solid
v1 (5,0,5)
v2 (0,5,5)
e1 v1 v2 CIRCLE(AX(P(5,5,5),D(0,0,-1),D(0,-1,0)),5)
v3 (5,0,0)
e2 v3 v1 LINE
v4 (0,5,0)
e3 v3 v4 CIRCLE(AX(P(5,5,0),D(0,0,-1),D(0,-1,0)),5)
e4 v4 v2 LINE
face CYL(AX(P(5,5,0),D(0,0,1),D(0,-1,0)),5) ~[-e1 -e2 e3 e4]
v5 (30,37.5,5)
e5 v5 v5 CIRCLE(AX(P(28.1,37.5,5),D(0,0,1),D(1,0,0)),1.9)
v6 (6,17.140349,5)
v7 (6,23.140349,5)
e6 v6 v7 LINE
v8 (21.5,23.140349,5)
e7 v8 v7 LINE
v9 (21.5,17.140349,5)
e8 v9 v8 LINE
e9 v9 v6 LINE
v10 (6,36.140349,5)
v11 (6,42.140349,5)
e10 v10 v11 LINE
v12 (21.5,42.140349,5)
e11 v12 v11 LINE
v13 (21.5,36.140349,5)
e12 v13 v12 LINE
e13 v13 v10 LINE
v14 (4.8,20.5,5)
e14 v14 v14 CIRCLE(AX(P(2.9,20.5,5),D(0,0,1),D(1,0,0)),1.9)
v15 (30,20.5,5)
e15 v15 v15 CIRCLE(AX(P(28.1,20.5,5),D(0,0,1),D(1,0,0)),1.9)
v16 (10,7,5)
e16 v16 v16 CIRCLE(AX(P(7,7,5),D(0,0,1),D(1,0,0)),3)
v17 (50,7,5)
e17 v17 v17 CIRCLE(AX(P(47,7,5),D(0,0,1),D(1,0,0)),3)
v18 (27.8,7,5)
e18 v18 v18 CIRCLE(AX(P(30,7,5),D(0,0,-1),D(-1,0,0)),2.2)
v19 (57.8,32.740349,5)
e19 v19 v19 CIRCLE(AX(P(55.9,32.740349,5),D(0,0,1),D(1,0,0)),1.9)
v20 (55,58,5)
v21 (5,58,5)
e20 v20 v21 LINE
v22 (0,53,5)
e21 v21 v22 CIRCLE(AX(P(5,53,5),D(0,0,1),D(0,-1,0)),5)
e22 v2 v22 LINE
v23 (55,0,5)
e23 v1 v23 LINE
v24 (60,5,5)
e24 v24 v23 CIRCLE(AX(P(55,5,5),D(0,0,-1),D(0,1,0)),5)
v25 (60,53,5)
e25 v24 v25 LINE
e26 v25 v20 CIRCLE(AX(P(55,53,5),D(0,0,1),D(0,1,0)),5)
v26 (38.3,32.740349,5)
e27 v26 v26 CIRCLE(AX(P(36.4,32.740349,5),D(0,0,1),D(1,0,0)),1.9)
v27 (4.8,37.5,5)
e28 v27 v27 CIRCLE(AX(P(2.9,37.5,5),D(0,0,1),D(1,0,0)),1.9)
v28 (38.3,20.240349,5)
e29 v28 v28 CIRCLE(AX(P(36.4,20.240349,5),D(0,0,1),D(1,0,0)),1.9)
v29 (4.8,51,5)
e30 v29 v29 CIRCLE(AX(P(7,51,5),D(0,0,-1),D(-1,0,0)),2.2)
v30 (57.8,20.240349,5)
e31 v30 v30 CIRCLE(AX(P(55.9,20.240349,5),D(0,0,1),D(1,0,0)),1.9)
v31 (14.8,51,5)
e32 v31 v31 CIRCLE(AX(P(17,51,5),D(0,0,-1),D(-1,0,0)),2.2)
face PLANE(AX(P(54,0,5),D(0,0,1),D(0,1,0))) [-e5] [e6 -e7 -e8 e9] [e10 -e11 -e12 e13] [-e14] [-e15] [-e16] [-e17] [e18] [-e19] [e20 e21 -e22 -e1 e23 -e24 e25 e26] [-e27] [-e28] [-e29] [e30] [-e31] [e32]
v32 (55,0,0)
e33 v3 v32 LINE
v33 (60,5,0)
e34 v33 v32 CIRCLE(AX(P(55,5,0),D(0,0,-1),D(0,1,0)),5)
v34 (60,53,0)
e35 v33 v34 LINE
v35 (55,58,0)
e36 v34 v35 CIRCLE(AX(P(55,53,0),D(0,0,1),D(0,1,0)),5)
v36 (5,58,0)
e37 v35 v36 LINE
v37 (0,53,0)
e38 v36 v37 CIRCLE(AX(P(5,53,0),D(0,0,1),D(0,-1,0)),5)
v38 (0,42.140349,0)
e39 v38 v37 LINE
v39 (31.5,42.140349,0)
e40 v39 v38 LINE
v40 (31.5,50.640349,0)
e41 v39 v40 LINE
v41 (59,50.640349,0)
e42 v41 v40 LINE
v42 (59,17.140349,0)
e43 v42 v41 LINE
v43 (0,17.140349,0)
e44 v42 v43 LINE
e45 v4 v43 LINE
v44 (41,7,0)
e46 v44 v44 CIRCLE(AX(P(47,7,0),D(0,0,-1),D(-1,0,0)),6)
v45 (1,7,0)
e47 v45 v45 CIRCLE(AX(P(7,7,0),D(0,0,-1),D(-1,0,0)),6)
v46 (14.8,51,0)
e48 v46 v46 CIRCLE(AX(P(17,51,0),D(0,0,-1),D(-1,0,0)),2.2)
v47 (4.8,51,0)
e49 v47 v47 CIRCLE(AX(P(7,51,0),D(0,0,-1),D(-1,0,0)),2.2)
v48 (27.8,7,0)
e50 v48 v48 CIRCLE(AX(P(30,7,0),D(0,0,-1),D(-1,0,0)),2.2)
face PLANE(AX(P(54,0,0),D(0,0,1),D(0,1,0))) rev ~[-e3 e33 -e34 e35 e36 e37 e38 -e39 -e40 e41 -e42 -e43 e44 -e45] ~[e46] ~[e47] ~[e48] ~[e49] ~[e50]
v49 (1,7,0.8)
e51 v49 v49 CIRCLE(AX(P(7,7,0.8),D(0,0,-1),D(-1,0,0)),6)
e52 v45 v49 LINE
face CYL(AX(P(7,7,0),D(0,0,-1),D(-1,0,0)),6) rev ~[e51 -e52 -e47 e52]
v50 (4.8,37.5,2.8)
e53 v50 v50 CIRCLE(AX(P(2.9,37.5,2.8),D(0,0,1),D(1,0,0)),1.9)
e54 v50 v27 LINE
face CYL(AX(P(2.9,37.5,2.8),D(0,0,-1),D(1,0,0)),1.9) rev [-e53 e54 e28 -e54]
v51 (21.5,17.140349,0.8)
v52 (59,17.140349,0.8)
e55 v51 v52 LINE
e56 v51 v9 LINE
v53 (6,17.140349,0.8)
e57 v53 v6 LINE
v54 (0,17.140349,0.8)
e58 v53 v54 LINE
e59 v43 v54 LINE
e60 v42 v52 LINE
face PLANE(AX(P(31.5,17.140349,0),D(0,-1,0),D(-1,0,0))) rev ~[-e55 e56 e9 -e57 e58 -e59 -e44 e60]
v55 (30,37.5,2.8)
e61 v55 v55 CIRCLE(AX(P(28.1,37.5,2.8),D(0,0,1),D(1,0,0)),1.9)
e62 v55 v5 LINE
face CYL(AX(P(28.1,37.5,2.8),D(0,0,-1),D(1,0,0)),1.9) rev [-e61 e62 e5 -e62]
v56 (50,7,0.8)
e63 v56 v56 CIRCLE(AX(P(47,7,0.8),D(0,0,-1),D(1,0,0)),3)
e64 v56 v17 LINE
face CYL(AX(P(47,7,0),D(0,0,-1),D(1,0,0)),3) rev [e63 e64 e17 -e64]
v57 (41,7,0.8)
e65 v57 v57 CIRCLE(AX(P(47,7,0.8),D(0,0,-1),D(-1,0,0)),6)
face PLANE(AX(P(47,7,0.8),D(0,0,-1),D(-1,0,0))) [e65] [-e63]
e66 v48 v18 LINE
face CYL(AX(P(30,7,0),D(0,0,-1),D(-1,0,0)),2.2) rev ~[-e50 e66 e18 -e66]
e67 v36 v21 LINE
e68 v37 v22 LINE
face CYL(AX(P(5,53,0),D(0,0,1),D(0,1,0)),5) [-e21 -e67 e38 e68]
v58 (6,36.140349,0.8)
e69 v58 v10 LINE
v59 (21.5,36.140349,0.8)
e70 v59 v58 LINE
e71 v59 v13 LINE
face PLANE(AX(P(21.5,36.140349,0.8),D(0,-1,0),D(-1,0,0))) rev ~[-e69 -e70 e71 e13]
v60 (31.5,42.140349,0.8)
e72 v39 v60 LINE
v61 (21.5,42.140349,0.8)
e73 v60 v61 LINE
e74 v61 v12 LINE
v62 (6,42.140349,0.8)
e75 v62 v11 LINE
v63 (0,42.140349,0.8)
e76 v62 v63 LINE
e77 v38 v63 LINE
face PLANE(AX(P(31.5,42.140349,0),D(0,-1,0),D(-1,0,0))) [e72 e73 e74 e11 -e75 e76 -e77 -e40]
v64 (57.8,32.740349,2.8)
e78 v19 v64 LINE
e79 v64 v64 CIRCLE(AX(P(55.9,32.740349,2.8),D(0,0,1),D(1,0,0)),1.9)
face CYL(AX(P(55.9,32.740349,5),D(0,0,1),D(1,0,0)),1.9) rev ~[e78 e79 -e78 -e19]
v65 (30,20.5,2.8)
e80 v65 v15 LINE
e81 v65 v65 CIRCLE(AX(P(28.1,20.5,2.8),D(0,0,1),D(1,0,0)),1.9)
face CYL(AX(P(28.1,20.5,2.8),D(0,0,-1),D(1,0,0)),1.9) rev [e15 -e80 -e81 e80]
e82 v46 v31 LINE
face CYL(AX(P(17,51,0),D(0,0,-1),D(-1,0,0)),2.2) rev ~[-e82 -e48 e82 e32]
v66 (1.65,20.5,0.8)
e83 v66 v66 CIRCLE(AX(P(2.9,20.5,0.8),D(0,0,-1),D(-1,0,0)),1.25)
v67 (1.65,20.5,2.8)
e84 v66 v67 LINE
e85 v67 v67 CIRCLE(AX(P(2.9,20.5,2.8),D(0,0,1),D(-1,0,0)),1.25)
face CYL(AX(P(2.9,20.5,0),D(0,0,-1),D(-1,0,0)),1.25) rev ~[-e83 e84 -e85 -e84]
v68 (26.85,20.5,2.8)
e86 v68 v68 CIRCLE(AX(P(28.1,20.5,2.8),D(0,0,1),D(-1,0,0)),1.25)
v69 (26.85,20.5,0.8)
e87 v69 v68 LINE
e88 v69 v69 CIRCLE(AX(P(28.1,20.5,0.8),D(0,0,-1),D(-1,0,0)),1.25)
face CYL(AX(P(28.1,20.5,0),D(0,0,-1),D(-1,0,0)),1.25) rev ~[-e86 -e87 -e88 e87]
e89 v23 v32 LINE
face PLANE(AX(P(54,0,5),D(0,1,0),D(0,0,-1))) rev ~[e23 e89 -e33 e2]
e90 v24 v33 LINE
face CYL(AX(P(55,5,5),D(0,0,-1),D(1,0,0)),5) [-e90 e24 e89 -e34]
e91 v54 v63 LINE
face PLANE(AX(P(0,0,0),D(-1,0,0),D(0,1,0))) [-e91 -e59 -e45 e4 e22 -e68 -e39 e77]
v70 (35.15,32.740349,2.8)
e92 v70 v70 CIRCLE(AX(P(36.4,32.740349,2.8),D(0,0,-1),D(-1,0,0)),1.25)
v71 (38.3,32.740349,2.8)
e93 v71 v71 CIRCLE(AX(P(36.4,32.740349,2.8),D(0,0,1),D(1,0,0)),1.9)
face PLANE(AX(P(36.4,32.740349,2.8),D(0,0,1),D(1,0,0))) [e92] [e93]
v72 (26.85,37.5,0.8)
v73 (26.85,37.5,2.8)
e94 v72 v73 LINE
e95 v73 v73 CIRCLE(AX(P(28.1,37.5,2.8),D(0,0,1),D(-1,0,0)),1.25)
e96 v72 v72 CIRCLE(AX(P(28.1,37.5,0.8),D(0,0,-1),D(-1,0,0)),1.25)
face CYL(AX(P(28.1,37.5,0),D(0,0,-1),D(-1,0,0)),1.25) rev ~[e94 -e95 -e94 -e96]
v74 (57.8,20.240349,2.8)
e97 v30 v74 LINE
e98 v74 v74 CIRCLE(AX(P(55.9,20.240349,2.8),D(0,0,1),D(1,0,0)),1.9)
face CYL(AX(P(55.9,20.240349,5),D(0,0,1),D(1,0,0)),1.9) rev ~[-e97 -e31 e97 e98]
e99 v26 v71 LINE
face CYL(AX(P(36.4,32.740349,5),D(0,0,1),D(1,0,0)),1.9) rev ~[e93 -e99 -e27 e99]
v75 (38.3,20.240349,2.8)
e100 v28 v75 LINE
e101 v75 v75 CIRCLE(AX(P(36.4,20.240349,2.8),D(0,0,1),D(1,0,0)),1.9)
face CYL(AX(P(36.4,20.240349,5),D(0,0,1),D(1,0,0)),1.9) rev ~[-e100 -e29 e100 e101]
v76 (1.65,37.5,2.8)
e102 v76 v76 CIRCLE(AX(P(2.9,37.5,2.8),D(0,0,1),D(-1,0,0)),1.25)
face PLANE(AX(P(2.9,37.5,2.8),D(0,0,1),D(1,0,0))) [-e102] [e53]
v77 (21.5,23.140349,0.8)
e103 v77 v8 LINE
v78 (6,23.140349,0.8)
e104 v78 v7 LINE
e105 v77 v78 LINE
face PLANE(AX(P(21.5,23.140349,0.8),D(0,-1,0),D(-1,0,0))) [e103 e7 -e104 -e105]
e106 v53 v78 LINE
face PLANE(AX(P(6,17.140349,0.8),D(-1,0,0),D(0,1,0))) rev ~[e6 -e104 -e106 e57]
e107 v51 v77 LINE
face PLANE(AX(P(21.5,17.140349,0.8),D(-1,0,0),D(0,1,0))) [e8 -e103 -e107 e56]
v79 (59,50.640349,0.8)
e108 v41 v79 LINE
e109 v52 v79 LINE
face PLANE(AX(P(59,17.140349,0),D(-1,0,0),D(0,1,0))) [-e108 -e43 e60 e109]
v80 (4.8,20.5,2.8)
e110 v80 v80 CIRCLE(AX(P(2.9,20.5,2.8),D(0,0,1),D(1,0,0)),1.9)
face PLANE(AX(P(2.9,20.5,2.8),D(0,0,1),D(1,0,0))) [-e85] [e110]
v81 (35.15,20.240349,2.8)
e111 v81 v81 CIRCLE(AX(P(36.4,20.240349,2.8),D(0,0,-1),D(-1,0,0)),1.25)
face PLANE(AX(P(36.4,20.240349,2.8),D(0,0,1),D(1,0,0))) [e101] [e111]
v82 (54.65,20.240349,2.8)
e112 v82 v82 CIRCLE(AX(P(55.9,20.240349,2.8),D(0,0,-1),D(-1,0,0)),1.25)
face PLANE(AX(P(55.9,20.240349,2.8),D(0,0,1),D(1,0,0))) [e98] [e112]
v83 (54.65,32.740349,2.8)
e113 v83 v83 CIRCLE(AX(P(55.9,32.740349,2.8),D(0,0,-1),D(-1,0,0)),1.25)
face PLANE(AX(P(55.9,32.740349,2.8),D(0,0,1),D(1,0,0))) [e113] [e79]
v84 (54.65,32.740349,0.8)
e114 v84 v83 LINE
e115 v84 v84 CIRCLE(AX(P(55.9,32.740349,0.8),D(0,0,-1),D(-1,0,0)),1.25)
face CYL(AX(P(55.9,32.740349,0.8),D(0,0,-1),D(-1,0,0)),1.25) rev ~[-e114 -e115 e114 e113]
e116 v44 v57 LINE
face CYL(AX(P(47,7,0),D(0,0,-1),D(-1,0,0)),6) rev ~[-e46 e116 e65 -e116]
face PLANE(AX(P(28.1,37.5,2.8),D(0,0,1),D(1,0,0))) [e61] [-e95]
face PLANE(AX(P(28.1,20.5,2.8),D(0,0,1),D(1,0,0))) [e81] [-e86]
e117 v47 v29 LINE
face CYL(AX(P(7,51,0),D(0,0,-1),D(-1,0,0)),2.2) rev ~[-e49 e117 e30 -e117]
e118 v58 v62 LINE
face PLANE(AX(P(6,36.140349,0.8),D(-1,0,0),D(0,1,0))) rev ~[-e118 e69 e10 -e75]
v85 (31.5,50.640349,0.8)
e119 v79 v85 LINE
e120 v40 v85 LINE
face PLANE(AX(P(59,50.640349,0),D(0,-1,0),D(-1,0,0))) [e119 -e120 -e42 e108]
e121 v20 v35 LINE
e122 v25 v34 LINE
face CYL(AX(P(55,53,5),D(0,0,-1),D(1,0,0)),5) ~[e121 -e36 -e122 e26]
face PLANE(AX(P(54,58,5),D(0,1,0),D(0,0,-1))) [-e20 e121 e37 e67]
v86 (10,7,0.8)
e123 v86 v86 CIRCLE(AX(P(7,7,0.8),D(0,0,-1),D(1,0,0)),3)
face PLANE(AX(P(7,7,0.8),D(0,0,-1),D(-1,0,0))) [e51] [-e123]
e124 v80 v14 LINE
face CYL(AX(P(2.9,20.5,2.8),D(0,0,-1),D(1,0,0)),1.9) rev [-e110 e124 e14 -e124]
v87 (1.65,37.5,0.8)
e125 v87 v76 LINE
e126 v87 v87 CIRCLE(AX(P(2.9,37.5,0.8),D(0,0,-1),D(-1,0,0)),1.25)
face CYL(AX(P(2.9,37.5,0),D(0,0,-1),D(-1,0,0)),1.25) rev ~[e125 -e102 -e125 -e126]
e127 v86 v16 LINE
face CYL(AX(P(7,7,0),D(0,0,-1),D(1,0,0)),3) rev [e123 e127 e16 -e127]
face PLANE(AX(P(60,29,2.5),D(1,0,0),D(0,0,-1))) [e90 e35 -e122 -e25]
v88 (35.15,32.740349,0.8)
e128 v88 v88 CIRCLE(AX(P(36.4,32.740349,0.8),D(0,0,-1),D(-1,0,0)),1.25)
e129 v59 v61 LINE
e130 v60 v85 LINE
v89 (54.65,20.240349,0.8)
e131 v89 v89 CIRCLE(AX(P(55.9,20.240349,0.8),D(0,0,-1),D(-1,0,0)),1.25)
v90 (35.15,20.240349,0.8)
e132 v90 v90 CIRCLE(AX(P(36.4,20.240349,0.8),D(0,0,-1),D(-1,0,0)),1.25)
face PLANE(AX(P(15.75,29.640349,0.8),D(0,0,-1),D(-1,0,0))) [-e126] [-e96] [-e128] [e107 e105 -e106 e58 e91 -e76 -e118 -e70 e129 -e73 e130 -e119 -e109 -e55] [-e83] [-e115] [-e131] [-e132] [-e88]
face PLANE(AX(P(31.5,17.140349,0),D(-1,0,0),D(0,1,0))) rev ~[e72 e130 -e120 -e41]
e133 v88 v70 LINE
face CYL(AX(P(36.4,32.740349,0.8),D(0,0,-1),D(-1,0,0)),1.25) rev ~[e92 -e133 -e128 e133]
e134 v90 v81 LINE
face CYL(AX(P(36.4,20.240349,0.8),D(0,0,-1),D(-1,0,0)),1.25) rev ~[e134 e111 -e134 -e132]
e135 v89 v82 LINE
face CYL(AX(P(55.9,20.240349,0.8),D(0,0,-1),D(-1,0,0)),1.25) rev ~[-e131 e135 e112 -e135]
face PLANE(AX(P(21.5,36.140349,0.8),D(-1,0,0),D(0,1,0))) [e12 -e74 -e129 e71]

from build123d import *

# Parameters (mm, degrees)
SKETCH_1_W           = 54
SKETCH_1_H           = 58
SKETCH_1_R           = 3
EXTRUDE_1_DEPTH      = 5
SKETCH_3_R           = 6
CUT_EXTRUDE_1_DEPTH  = 0.8
CUT_EXTRUDE_2_REACH  = 81.404
SKETCH_4_R           = 1.25
SKETCH_5_W           = 31.5
SKETCH_5_H           = 25
CUT_EXTRUDE_3_DEPTH  = 0.8
CUT_EXTRUDE_4_REACH  = 81.358
SKETCH_6_W           = 15.5
SKETCH_6_H           = 6
CUT_EXTRUDE_START    = -2.2
SKETCH_7_R           = 1.9
SKETCH_7_R_2         = 1.25
CUT_EXTRUDE_5_DEPTH  = 2.2
SKETCH_8_W           = 5
SKETCH_8_H           = 58
EXTRUDE_2_DEPTH      = 6
SKETCH_9_W           = 27.5
SKETCH_9_H           = 33.5
CUT_EXTRUDE_6_DEPTH  = 0.8
SKETCH_10_R          = 1.25
CUT_EXTRUDE_7_DEPTH  = 4.2
SKETCH_11_R          = 1.9
CUT_EXTRUDE_8_DEPTH  = 2.2
FILLET_1_R           = 5
SKETCH_12_W          = 60
SKETCH_12_H          = 3
EXTRUDE_3_DEPTH      = 20
EXTRUDE_3_2_DEPTH    = 20
SKETCH_13_W          = 60
SKETCH_13_H          = 3
EXTRUDE_4_DEPTH      = 3
SKETCH_14_R          = 2.2
CUT_EXTRUDE_9_DEPTH  = 5
EXTRUDE_START        = -5
SKETCH_15_R          = 2.2
EXTRUDE_5_DEPTH      = 5
CUT_EXTRUDE_10_REACH = 81.107
SKETCH_16_W          = 27.5
SKETCH_16_H          = 10
SKETCH_17_W          = 7
SKETCH_17_H          = 27
EXTRUDE_6_DEPTH      = 3
SKETCH_18_W          = 27.5
SKETCH_18_H          = 3
SKETCH_18_W_2        = 15.5
SKETCH_18_H_2        = 6
EXTRUDE_8_DEPTH      = 3
CUT_EXTRUDE_11_DEPTH = 3
SKETCH_20_W          = 10
SKETCH_20_H          = 4.5
SKETCH_20_W_2        = 10.2
SKETCH_20_H_2        = 4.4
CUT_EXTRUDE_12_DEPTH = 3
SKETCH_21_W          = 17
SKETCH_21_H          = 4
EXTRUDE_9_DEPTH      = 20
FILLET_2_R           = 5


with BuildPart() as part:
    # 草图1 → 凸台-拉伸1 (new body)
    with BuildSketch(Plane.XY):
        with Locations((27, 29)):
            Rectangle(SKETCH_1_W, SKETCH_1_H)
        with Locations((7, 7)):
            Circle(SKETCH_1_R, mode=Mode.SUBTRACT)
        with Locations((47, 7)):
            Circle(SKETCH_1_R, mode=Mode.SUBTRACT)
    extrude(amount=EXTRUDE_1_DEPTH)

    # 草图3 → 切除-拉伸1 (cut)
    with BuildSketch(Plane(origin=(0, 0, 0), x_dir=(-1, 0, 0), z_dir=(0, 0, -1))):
        with Locations((-47, 7)):
            Circle(SKETCH_3_R)
        with Locations((-7, 7)):
            Circle(SKETCH_3_R)
    extrude(amount=-CUT_EXTRUDE_1_DEPTH, mode=Mode.SUBTRACT)

    # 草图4 → 切除-拉伸2 (cut, up to next)
    with BuildSketch(Plane(origin=(0, 0, 0), x_dir=(-1, 0, 0), z_dir=(0, 0, -1)), mode=Mode.PRIVATE) as cut_extrude_2_sk1:
        with Locations((-28.1, 37.5)):
            Circle(SKETCH_4_R)
    cut_extrude_2_tool1 = extrude(cut_extrude_2_sk1.sketch, amount=-CUT_EXTRUDE_2_REACH, mode=Mode.PRIVATE) & part.part
    # 草图4 → 切除-拉伸2 (cut, up to next)
    with BuildSketch(Plane(origin=(0, 0, 0), x_dir=(-1, 0, 0), z_dir=(0, 0, -1)), mode=Mode.PRIVATE) as cut_extrude_2_sk2:
        with Locations((-2.9, 37.5)):
            Circle(SKETCH_4_R)
    cut_extrude_2_tool2 = extrude(cut_extrude_2_sk2.sketch, amount=-CUT_EXTRUDE_2_REACH, mode=Mode.PRIVATE) & part.part
    # 草图4 → 切除-拉伸2 (cut, up to next)
    with BuildSketch(Plane(origin=(0, 0, 0), x_dir=(-1, 0, 0), z_dir=(0, 0, -1)), mode=Mode.PRIVATE) as cut_extrude_2_sk3:
        with Locations((-28.1, 20.5)):
            Circle(SKETCH_4_R)
    cut_extrude_2_tool3 = extrude(cut_extrude_2_sk3.sketch, amount=-CUT_EXTRUDE_2_REACH, mode=Mode.PRIVATE) & part.part
    # 草图4 → 切除-拉伸2 (cut, up to next)
    with BuildSketch(Plane(origin=(0, 0, 0), x_dir=(-1, 0, 0), z_dir=(0, 0, -1)), mode=Mode.PRIVATE) as cut_extrude_2_sk4:
        with Locations((-2.9, 20.5)):
            Circle(SKETCH_4_R)
    cut_extrude_2_tool4 = extrude(cut_extrude_2_sk4.sketch, amount=-CUT_EXTRUDE_2_REACH, mode=Mode.PRIVATE) & part.part
    add(cut_extrude_2_tool1.solids().sort_by_distance((28.1, 37.5, 0))[0], mode=Mode.SUBTRACT)
    add(cut_extrude_2_tool2.solids().sort_by_distance((2.9, 37.5, 0))[0], mode=Mode.SUBTRACT)
    add(cut_extrude_2_tool3.solids().sort_by_distance((28.1, 20.5, 0))[0], mode=Mode.SUBTRACT)
    add(cut_extrude_2_tool4.solids().sort_by_distance((2.9, 20.5, 0))[0], mode=Mode.SUBTRACT)

    # 草图5 → 切除-拉伸3 (cut)
    with BuildSketch(Plane(origin=(0, 0, 0), x_dir=(-1, 0, 0), z_dir=(0, 0, -1))):
        with Locations((-15.75, 29.640349145)):
            Rectangle(SKETCH_5_W, SKETCH_5_H)
    extrude(amount=-CUT_EXTRUDE_3_DEPTH, mode=Mode.SUBTRACT)

    # 草图6 → 切除-拉伸4 (cut, up to next)
    with BuildSketch(Plane(origin=(0, 0, 0.8), x_dir=(-1, 0, 0), z_dir=(0, 0, -1)), mode=Mode.PRIVATE) as cut_extrude_4_sk1:
        with Locations((-13.75, 39.140349145)):
            Rectangle(SKETCH_6_W, SKETCH_6_H)
    cut_extrude_4_tool1 = extrude(cut_extrude_4_sk1.sketch, amount=-CUT_EXTRUDE_4_REACH, mode=Mode.PRIVATE) & part.part
    # 草图6 → 切除-拉伸4 (cut, up to next)
    with BuildSketch(Plane(origin=(0, 0, 0.8), x_dir=(-1, 0, 0), z_dir=(0, 0, -1)), mode=Mode.PRIVATE) as cut_extrude_4_sk2:
        with Locations((-13.75, 20.140349145)):
            Rectangle(SKETCH_6_W, SKETCH_6_H)
    cut_extrude_4_tool2 = extrude(cut_extrude_4_sk2.sketch, amount=-CUT_EXTRUDE_4_REACH, mode=Mode.PRIVATE) & part.part
    add(cut_extrude_4_tool1.solids().sort_by_distance((13.75, 39.140349, 0.8))[0], mode=Mode.SUBTRACT)
    add(cut_extrude_4_tool2.solids().sort_by_distance((13.75, 20.140349, 0.8))[0], mode=Mode.SUBTRACT)

    # 草图7 → 切除-拉伸5 (cut)
    # profile 1 of 4: a face of its own
    with BuildSketch(Plane.XY.offset(5).offset(CUT_EXTRUDE_START)):
        with Locations((2.9, 37.5)):
            Circle(SKETCH_7_R)
        with Locations(Location((2.9, 37.5, 0), (0, 0, 180))):
            Circle(SKETCH_7_R_2, mode=Mode.SUBTRACT)
    # profile 2 of 4: a face of its own
    with BuildSketch(Plane.XY.offset(5).offset(CUT_EXTRUDE_START)):
        with Locations((28.1, 37.5)):
            Circle(SKETCH_7_R)
        with Locations(Location((28.1, 37.5, 0), (0, 0, 180))):
            Circle(SKETCH_7_R_2, mode=Mode.SUBTRACT)
    # profile 3 of 4: a face of its own
    with BuildSketch(Plane.XY.offset(5).offset(CUT_EXTRUDE_START)):
        with Locations((28.1, 20.5)):
            Circle(SKETCH_7_R)
        with Locations(Location((28.1, 20.5, 0), (0, 0, 180))):
            Circle(SKETCH_7_R_2, mode=Mode.SUBTRACT)
    # profile 4 of 4: a face of its own
    with BuildSketch(Plane.XY.offset(5).offset(CUT_EXTRUDE_START)):
        with Locations((2.9, 20.5)):
            Circle(SKETCH_7_R)
        with Locations(Location((2.9, 20.5, 0), (0, 0, 180))):
            Circle(SKETCH_7_R_2, mode=Mode.SUBTRACT)
    extrude(amount=CUT_EXTRUDE_5_DEPTH, mode=Mode.SUBTRACT)

    # 草图8 → 凸台-拉伸2 (add)
    with BuildSketch(Plane(origin=(54, 0, 0), x_dir=(0, 0, -1), z_dir=(1, 0, 0))):
        with Locations((-2.5, 29)):
            Rectangle(SKETCH_8_W, SKETCH_8_H)
    extrude(amount=EXTRUDE_2_DEPTH)

    # 草图9 → 切除-拉伸6 (cut)
    with BuildSketch(Plane(origin=(0, 0, 0), x_dir=(-1, 0, 0), z_dir=(0, 0, -1))):
        with Locations((-45.25, 33.890349145)):
            Rectangle(SKETCH_9_W, SKETCH_9_H)
    extrude(amount=-CUT_EXTRUDE_6_DEPTH, mode=Mode.SUBTRACT)

    # 草图10 → 切除-拉伸7 (cut)
    with BuildSketch(Plane(origin=(0, 0, 0.8), x_dir=(-1, 0, 0), z_dir=(0, 0, -1))):
        with Locations((-55.9, 32.740349145)):
            Circle(SKETCH_10_R)
        with Locations((-55.9, 20.240349145)):
            Circle(SKETCH_10_R)
        with Locations((-36.4, 20.240349145)):
            Circle(SKETCH_10_R)
        with Locations((-36.4, 32.740349145)):
            Circle(SKETCH_10_R)
    extrude(amount=-CUT_EXTRUDE_7_DEPTH, mode=Mode.SUBTRACT)

    # 草图11 → 切除-拉伸8 (cut)
    with BuildSketch(Plane.XY.offset(5)):
        with Locations((36.4, 20.240349145)):
            Circle(SKETCH_11_R)
        with Locations((55.9, 20.240349145)):
            Circle(SKETCH_11_R)
        with Locations((55.9, 32.740349145)):
            Circle(SKETCH_11_R)
        with Locations((36.4, 32.740349145)):
            Circle(SKETCH_11_R)
    extrude(amount=-CUT_EXTRUDE_8_DEPTH, mode=Mode.SUBTRACT)

    # 圆角1
    fillet_1_edges = [part.edges().sort_by_distance(p)[0] for p in [
        (60, 0, 2.5),
        (60, 58, 2.5),
        (0, 58, 2.5),
        (0, 0, 2.5),
    ]]
    fillet(fillet_1_edges, radius=FILLET_1_R)

    # 草图14 → 切除-拉伸9 (cut)
    with BuildSketch(Plane(origin=(0, 0, 0), x_dir=(-1, 0, 0), z_dir=(0, 0, -1))):
        with Locations((-30, 7)):
            Circle(SKETCH_14_R)
        with Locations((-17, 51)):
            Circle(SKETCH_14_R)
        with Locations((-7, 51)):
            Circle(SKETCH_14_R)
    extrude(amount=-CUT_EXTRUDE_9_DEPTH, mode=Mode.SUBTRACT)


with BuildPart() as body_2:
    # 草图12 → 凸台-拉伸3 (new body)
    with BuildSketch(Plane(origin=(0, 0, 0), x_dir=(-1, 0, 0), z_dir=(0, 0, -1))):
        with Locations((-30, 14.640349145)):
            Rectangle(SKETCH_12_W, SKETCH_12_H)
    extrude(amount=EXTRUDE_3_DEPTH)



with BuildPart() as body_3:
    # 草图12 → Extrude 3 2 (new body)
    with BuildSketch(Plane(origin=(0, 0, 0), x_dir=(-1, 0, 0), z_dir=(0, 0, -1))):
        with BuildLine():
            Line((-60, 53), (-60, 51.640349145))
            Line((-60, 51.640349145), (-30.5, 51.640349145))
            Line((-30.5, 51.640349145), (-30.5, 43.140349145))
            Line((-30.5, 43.140349145), (0, 43.140349145))
            Line((0, 43.140349145), (0, 46.140349145))
            Line((0, 46.140349145), (-27.5, 46.140349145))
            Line((-27.5, 46.140349145), (-27.5, 54.640349145))
            Line((-27.5, 54.640349145), (-59.723267374, 54.640349145))
            ThreePointArc((-59.723267374, 54.640349145), (-59.930331473, 53.831764129), (-60, 53))
        make_face()
    extrude(amount=EXTRUDE_3_2_DEPTH)


with BuildPart() as body_2_1:
    add(body_2.part)

    add(body_3.part)  # 凸台-拉伸4 merges body 3
    # 草图13 → 凸台-拉伸4 (add)
    with BuildSketch(Plane(origin=(0, 0, -20), x_dir=(-1, 0, 0), z_dir=(0, 0, -1))):
        Polygon((0, 43.140349145), (0, 16.140349145), (-60, 16.140349145), (-60, 51.640349145), (-30.5, 51.640349145), (-30.5, 43.140349145), align=None)
        with BuildLine():
            Line((0, 43.140349145), (0, 46.140349145))
            Line((0, 46.140349145), (-27.5, 46.140349145))
            Line((-27.5, 46.140349145), (-27.5, 54.640349145))
            Line((-27.5, 54.640349145), (-59.723267374, 54.640349145))
            ThreePointArc((-59.723267374, 54.640349145), (-59.930331473, 53.831764129), (-60, 53))
            Line((-60, 53), (-60, 51.640349145))
            Line((-60, 51.640349145), (-30.5, 51.640349145))
            Line((-30.5, 51.640349145), (-30.5, 43.140349145))
            Line((-30.5, 43.140349145), (0, 43.140349145))
        make_face()
        with Locations((-30, 14.640349145)):
            Rectangle(SKETCH_13_W, SKETCH_13_H)
    extrude(amount=EXTRUDE_4_DEPTH)

    # 草图15 → 凸台-拉伸5 (add)
    # profile 1 of 3: a face of its own
    with BuildSketch(Plane.XY.offset(EXTRUDE_START)):
        with BuildLine():
            ThreePointArc((34.5, 7), (30, 11.5), (25.5, 7))
            ThreePointArc((25.5, 7), (26.818019485, 3.818019485), (30, 2.5))
            ThreePointArc((30, 2.5), (33.181980515, 3.818019485), (34.5, 7))
        make_face()
        with Locations(Location((30, 7, 0), (0, 0, 180))):
            Circle(SKETCH_15_R, mode=Mode.SUBTRACT)
    # profile 2 of 3: a face of its own
    with BuildSketch(Plane.XY.offset(EXTRUDE_START)):
        with BuildLine():
            Line((25.5, 13.140349145), (25.5, 7))
            ThreePointArc((25.5, 7), (30, 11.5), (34.5, 7))
            Line((34.5, 7), (34.5, 13.140349145))
            Line((34.5, 13.140349145), (25.5, 13.140349145))
        make_face()
    # profile 3 of 3: a face of its own
    with BuildSketch(Plane.XY.offset(EXTRUDE_START)):
        with BuildLine():
            Line((17, 55.140349145), (7, 55.140349145))
            ThreePointArc((7, 55.140349145), (3.818019485, 53.82232966), (2.5, 50.640349145))
            Line((2.5, 50.640349145), (2.5, 46.140349145))
            Line((2.5, 46.140349145), (21.5, 46.140349145))
            Line((21.5, 46.140349145), (21.5, 50.640349145))
            ThreePointArc((21.5, 50.640349145), (20.181980515, 53.82232966), (17, 55.140349145))
        make_face()
        with Locations(Location((7, 51, 0), (0, 0, 180))):
            Circle(SKETCH_15_R, mode=Mode.SUBTRACT)
        with Locations(Location((17, 51, 0), (0, 0, 180))):
            Circle(SKETCH_15_R, mode=Mode.SUBTRACT)
    extrude(amount=EXTRUDE_5_DEPTH)

    # 切除-拉伸10: up to this face of the body (flat: up to its plane)
    cut_extrude_10_end = Plane(body_2_1.part.faces().sort_by_distance((30, 13.140349145, -11.803370787))[0])
    # 草图16 → 切除-拉伸10 (cut, up to the picked face)
    with BuildSketch(Plane(origin=(0, 46.140349145, 0), x_dir=(1, 0, 0), z_dir=(0, 1, 0)), mode=Mode.PRIVATE) as cut_extrude_10_sk1:
        with Locations((13.75, 18)):
            Rectangle(SKETCH_16_W, SKETCH_16_H)
    cut_extrude_10_tool1 = split(extrude(cut_extrude_10_sk1.sketch, amount=-CUT_EXTRUDE_10_REACH, mode=Mode.PRIVATE), bisect_by=cut_extrude_10_end, keep=Keep.BOTH, mode=Mode.PRIVATE)
    add(cut_extrude_10_tool1.solids().sort_by(Axis((13.75, 46.140349, -18), (0, -1, 0)))[0], mode=Mode.SUBTRACT)

    # 草图17 → 凸台-拉伸6 (add)
    with BuildSketch(Plane.ZY.offset(-27.5)):
        with Locations((-16.5, 29.640349145)):
            Rectangle(SKETCH_17_W, SKETCH_17_H)
    extrude(amount=-EXTRUDE_6_DEPTH)

    # 草图18 → 凸台-拉伸8 (add)
    # profile 1 of 2: a face of its own
    with BuildSketch(Plane(origin=(0, 0, -13), x_dir=(-1, 0, 0), z_dir=(0, 0, -1))):
        with Locations((-13.75, 14.640349145)):
            Rectangle(SKETCH_18_W, SKETCH_18_H)
    # profile 2 of 2: a face of its own
    with BuildSketch(Plane(origin=(0, 0, -13), x_dir=(-1, 0, 0), z_dir=(0, 0, -1))):
        Polygon((0, 16.140349145), (0, 17.140349145), (0, 42.140349145), (0, 43.140349145), (0, 46.140349145), (-27.5, 46.140349145), (-27.5, 43.140349145), (-27.5, 16.140349145), align=None)
        with Locations((-13.75, 20.140349145)):
            Rectangle(SKETCH_18_W_2, SKETCH_18_H_2, mode=Mode.SUBTRACT)
        with Locations((-13.75, 39.140349145)):
            Rectangle(SKETCH_18_W_2, SKETCH_18_H_2, mode=Mode.SUBTRACT)
    extrude(amount=EXTRUDE_8_DEPTH)

    # 草图19 → 切除-拉伸11 (cut)
    # profile 1 of 3: a face of its own
    with BuildSketch(Plane(origin=(0, 54.640349145, 0), x_dir=(1, 0, 0), z_dir=(0, 1, 0))):
        Polygon((34, 4.2), (43, 4.2), (43, 11.7), (43, 16.7), (34, 16.7), (34, 11.7), align=None)
    # profile 2 of 3: a face of its own
    with BuildSketch(Plane(origin=(0, 54.640349145, 0), x_dir=(1, 0, 0), z_dir=(0, 1, 0))):
        with BuildLine():
            Line((49.05, 1.7), (54.85, 1.7))
            ThreePointArc((54.85, 1.7), (58.9, 5.75), (54.85, 9.8))
            Line((54.85, 9.8), (49.05, 9.8))
            ThreePointArc((49.05, 9.8), (45, 5.75), (49.05, 1.7))
        make_face()
        with BuildLine():
            ThreePointArc((49.05, 7.3), (47.5, 5.75), (49.05, 4.2))
            Line((49.05, 4.2), (54.85, 4.2))
            ThreePointArc((54.85, 4.2), (56.4, 5.75), (54.85, 7.3))
            Line((54.85, 7.3), (49.05, 7.3))
        make_face(mode=Mode.SUBTRACT)
    # profile 3 of 3: a face of its own
    with BuildSketch(Plane(origin=(0, 54.640349145, 0), x_dir=(1, 0, 0), z_dir=(0, 1, 0))):
        with BuildLine():
            Line((54.85, 7.3), (49.05, 7.3))
            ThreePointArc((49.05, 7.3), (47.5, 5.75), (49.05, 4.2))
            Line((49.05, 4.2), (54.85, 4.2))
            ThreePointArc((54.85, 4.2), (56.4, 5.75), (54.85, 7.3))
        make_face()
    extrude(amount=-CUT_EXTRUDE_11_DEPTH, mode=Mode.SUBTRACT)

    # 草图20 → 切除-拉伸12 (cut)
    with BuildSketch(Plane(origin=(0, 0, -23), x_dir=(-1, 0, 0), z_dir=(0, 0, -1))):
        with Locations((-45.5, 19.390349145)):
            Rectangle(SKETCH_20_W, SKETCH_20_H)
        Polygon((-50.5, 26.140349145), (-50.5, 22.640349145), (-40.5, 22.640349145), (-40.5, 27.140349145), (-49.5, 27.140349145), align=None)
        with Locations((-54.9, 40.340349145)):
            Rectangle(SKETCH_20_W_2, SKETCH_20_H_2)
    extrude(amount=-CUT_EXTRUDE_12_DEPTH, mode=Mode.SUBTRACT)

    # 草图21 → 凸台-拉伸9 (add)
    with BuildSketch(Plane.ZY):
        with Locations((-3.5, -2.859650855)):
            Rectangle(SKETCH_21_W, SKETCH_21_H)
        Polygon((-12, 13.140349145), (-16, 13.140349145), (-16, -4.859650855), (-12, -4.859650855), (-12, -0.859650855), align=None)
    extrude(amount=-EXTRUDE_9_DEPTH)

    # 圆角2
    fillet_2_edges = [body_2_1.edges().sort_by_distance(p)[0] for p in [
        (10, -4.859650855, -16),
    ]]
    fillet(fillet_2_edges, radius=FILLET_2_R)


solid = part.part
